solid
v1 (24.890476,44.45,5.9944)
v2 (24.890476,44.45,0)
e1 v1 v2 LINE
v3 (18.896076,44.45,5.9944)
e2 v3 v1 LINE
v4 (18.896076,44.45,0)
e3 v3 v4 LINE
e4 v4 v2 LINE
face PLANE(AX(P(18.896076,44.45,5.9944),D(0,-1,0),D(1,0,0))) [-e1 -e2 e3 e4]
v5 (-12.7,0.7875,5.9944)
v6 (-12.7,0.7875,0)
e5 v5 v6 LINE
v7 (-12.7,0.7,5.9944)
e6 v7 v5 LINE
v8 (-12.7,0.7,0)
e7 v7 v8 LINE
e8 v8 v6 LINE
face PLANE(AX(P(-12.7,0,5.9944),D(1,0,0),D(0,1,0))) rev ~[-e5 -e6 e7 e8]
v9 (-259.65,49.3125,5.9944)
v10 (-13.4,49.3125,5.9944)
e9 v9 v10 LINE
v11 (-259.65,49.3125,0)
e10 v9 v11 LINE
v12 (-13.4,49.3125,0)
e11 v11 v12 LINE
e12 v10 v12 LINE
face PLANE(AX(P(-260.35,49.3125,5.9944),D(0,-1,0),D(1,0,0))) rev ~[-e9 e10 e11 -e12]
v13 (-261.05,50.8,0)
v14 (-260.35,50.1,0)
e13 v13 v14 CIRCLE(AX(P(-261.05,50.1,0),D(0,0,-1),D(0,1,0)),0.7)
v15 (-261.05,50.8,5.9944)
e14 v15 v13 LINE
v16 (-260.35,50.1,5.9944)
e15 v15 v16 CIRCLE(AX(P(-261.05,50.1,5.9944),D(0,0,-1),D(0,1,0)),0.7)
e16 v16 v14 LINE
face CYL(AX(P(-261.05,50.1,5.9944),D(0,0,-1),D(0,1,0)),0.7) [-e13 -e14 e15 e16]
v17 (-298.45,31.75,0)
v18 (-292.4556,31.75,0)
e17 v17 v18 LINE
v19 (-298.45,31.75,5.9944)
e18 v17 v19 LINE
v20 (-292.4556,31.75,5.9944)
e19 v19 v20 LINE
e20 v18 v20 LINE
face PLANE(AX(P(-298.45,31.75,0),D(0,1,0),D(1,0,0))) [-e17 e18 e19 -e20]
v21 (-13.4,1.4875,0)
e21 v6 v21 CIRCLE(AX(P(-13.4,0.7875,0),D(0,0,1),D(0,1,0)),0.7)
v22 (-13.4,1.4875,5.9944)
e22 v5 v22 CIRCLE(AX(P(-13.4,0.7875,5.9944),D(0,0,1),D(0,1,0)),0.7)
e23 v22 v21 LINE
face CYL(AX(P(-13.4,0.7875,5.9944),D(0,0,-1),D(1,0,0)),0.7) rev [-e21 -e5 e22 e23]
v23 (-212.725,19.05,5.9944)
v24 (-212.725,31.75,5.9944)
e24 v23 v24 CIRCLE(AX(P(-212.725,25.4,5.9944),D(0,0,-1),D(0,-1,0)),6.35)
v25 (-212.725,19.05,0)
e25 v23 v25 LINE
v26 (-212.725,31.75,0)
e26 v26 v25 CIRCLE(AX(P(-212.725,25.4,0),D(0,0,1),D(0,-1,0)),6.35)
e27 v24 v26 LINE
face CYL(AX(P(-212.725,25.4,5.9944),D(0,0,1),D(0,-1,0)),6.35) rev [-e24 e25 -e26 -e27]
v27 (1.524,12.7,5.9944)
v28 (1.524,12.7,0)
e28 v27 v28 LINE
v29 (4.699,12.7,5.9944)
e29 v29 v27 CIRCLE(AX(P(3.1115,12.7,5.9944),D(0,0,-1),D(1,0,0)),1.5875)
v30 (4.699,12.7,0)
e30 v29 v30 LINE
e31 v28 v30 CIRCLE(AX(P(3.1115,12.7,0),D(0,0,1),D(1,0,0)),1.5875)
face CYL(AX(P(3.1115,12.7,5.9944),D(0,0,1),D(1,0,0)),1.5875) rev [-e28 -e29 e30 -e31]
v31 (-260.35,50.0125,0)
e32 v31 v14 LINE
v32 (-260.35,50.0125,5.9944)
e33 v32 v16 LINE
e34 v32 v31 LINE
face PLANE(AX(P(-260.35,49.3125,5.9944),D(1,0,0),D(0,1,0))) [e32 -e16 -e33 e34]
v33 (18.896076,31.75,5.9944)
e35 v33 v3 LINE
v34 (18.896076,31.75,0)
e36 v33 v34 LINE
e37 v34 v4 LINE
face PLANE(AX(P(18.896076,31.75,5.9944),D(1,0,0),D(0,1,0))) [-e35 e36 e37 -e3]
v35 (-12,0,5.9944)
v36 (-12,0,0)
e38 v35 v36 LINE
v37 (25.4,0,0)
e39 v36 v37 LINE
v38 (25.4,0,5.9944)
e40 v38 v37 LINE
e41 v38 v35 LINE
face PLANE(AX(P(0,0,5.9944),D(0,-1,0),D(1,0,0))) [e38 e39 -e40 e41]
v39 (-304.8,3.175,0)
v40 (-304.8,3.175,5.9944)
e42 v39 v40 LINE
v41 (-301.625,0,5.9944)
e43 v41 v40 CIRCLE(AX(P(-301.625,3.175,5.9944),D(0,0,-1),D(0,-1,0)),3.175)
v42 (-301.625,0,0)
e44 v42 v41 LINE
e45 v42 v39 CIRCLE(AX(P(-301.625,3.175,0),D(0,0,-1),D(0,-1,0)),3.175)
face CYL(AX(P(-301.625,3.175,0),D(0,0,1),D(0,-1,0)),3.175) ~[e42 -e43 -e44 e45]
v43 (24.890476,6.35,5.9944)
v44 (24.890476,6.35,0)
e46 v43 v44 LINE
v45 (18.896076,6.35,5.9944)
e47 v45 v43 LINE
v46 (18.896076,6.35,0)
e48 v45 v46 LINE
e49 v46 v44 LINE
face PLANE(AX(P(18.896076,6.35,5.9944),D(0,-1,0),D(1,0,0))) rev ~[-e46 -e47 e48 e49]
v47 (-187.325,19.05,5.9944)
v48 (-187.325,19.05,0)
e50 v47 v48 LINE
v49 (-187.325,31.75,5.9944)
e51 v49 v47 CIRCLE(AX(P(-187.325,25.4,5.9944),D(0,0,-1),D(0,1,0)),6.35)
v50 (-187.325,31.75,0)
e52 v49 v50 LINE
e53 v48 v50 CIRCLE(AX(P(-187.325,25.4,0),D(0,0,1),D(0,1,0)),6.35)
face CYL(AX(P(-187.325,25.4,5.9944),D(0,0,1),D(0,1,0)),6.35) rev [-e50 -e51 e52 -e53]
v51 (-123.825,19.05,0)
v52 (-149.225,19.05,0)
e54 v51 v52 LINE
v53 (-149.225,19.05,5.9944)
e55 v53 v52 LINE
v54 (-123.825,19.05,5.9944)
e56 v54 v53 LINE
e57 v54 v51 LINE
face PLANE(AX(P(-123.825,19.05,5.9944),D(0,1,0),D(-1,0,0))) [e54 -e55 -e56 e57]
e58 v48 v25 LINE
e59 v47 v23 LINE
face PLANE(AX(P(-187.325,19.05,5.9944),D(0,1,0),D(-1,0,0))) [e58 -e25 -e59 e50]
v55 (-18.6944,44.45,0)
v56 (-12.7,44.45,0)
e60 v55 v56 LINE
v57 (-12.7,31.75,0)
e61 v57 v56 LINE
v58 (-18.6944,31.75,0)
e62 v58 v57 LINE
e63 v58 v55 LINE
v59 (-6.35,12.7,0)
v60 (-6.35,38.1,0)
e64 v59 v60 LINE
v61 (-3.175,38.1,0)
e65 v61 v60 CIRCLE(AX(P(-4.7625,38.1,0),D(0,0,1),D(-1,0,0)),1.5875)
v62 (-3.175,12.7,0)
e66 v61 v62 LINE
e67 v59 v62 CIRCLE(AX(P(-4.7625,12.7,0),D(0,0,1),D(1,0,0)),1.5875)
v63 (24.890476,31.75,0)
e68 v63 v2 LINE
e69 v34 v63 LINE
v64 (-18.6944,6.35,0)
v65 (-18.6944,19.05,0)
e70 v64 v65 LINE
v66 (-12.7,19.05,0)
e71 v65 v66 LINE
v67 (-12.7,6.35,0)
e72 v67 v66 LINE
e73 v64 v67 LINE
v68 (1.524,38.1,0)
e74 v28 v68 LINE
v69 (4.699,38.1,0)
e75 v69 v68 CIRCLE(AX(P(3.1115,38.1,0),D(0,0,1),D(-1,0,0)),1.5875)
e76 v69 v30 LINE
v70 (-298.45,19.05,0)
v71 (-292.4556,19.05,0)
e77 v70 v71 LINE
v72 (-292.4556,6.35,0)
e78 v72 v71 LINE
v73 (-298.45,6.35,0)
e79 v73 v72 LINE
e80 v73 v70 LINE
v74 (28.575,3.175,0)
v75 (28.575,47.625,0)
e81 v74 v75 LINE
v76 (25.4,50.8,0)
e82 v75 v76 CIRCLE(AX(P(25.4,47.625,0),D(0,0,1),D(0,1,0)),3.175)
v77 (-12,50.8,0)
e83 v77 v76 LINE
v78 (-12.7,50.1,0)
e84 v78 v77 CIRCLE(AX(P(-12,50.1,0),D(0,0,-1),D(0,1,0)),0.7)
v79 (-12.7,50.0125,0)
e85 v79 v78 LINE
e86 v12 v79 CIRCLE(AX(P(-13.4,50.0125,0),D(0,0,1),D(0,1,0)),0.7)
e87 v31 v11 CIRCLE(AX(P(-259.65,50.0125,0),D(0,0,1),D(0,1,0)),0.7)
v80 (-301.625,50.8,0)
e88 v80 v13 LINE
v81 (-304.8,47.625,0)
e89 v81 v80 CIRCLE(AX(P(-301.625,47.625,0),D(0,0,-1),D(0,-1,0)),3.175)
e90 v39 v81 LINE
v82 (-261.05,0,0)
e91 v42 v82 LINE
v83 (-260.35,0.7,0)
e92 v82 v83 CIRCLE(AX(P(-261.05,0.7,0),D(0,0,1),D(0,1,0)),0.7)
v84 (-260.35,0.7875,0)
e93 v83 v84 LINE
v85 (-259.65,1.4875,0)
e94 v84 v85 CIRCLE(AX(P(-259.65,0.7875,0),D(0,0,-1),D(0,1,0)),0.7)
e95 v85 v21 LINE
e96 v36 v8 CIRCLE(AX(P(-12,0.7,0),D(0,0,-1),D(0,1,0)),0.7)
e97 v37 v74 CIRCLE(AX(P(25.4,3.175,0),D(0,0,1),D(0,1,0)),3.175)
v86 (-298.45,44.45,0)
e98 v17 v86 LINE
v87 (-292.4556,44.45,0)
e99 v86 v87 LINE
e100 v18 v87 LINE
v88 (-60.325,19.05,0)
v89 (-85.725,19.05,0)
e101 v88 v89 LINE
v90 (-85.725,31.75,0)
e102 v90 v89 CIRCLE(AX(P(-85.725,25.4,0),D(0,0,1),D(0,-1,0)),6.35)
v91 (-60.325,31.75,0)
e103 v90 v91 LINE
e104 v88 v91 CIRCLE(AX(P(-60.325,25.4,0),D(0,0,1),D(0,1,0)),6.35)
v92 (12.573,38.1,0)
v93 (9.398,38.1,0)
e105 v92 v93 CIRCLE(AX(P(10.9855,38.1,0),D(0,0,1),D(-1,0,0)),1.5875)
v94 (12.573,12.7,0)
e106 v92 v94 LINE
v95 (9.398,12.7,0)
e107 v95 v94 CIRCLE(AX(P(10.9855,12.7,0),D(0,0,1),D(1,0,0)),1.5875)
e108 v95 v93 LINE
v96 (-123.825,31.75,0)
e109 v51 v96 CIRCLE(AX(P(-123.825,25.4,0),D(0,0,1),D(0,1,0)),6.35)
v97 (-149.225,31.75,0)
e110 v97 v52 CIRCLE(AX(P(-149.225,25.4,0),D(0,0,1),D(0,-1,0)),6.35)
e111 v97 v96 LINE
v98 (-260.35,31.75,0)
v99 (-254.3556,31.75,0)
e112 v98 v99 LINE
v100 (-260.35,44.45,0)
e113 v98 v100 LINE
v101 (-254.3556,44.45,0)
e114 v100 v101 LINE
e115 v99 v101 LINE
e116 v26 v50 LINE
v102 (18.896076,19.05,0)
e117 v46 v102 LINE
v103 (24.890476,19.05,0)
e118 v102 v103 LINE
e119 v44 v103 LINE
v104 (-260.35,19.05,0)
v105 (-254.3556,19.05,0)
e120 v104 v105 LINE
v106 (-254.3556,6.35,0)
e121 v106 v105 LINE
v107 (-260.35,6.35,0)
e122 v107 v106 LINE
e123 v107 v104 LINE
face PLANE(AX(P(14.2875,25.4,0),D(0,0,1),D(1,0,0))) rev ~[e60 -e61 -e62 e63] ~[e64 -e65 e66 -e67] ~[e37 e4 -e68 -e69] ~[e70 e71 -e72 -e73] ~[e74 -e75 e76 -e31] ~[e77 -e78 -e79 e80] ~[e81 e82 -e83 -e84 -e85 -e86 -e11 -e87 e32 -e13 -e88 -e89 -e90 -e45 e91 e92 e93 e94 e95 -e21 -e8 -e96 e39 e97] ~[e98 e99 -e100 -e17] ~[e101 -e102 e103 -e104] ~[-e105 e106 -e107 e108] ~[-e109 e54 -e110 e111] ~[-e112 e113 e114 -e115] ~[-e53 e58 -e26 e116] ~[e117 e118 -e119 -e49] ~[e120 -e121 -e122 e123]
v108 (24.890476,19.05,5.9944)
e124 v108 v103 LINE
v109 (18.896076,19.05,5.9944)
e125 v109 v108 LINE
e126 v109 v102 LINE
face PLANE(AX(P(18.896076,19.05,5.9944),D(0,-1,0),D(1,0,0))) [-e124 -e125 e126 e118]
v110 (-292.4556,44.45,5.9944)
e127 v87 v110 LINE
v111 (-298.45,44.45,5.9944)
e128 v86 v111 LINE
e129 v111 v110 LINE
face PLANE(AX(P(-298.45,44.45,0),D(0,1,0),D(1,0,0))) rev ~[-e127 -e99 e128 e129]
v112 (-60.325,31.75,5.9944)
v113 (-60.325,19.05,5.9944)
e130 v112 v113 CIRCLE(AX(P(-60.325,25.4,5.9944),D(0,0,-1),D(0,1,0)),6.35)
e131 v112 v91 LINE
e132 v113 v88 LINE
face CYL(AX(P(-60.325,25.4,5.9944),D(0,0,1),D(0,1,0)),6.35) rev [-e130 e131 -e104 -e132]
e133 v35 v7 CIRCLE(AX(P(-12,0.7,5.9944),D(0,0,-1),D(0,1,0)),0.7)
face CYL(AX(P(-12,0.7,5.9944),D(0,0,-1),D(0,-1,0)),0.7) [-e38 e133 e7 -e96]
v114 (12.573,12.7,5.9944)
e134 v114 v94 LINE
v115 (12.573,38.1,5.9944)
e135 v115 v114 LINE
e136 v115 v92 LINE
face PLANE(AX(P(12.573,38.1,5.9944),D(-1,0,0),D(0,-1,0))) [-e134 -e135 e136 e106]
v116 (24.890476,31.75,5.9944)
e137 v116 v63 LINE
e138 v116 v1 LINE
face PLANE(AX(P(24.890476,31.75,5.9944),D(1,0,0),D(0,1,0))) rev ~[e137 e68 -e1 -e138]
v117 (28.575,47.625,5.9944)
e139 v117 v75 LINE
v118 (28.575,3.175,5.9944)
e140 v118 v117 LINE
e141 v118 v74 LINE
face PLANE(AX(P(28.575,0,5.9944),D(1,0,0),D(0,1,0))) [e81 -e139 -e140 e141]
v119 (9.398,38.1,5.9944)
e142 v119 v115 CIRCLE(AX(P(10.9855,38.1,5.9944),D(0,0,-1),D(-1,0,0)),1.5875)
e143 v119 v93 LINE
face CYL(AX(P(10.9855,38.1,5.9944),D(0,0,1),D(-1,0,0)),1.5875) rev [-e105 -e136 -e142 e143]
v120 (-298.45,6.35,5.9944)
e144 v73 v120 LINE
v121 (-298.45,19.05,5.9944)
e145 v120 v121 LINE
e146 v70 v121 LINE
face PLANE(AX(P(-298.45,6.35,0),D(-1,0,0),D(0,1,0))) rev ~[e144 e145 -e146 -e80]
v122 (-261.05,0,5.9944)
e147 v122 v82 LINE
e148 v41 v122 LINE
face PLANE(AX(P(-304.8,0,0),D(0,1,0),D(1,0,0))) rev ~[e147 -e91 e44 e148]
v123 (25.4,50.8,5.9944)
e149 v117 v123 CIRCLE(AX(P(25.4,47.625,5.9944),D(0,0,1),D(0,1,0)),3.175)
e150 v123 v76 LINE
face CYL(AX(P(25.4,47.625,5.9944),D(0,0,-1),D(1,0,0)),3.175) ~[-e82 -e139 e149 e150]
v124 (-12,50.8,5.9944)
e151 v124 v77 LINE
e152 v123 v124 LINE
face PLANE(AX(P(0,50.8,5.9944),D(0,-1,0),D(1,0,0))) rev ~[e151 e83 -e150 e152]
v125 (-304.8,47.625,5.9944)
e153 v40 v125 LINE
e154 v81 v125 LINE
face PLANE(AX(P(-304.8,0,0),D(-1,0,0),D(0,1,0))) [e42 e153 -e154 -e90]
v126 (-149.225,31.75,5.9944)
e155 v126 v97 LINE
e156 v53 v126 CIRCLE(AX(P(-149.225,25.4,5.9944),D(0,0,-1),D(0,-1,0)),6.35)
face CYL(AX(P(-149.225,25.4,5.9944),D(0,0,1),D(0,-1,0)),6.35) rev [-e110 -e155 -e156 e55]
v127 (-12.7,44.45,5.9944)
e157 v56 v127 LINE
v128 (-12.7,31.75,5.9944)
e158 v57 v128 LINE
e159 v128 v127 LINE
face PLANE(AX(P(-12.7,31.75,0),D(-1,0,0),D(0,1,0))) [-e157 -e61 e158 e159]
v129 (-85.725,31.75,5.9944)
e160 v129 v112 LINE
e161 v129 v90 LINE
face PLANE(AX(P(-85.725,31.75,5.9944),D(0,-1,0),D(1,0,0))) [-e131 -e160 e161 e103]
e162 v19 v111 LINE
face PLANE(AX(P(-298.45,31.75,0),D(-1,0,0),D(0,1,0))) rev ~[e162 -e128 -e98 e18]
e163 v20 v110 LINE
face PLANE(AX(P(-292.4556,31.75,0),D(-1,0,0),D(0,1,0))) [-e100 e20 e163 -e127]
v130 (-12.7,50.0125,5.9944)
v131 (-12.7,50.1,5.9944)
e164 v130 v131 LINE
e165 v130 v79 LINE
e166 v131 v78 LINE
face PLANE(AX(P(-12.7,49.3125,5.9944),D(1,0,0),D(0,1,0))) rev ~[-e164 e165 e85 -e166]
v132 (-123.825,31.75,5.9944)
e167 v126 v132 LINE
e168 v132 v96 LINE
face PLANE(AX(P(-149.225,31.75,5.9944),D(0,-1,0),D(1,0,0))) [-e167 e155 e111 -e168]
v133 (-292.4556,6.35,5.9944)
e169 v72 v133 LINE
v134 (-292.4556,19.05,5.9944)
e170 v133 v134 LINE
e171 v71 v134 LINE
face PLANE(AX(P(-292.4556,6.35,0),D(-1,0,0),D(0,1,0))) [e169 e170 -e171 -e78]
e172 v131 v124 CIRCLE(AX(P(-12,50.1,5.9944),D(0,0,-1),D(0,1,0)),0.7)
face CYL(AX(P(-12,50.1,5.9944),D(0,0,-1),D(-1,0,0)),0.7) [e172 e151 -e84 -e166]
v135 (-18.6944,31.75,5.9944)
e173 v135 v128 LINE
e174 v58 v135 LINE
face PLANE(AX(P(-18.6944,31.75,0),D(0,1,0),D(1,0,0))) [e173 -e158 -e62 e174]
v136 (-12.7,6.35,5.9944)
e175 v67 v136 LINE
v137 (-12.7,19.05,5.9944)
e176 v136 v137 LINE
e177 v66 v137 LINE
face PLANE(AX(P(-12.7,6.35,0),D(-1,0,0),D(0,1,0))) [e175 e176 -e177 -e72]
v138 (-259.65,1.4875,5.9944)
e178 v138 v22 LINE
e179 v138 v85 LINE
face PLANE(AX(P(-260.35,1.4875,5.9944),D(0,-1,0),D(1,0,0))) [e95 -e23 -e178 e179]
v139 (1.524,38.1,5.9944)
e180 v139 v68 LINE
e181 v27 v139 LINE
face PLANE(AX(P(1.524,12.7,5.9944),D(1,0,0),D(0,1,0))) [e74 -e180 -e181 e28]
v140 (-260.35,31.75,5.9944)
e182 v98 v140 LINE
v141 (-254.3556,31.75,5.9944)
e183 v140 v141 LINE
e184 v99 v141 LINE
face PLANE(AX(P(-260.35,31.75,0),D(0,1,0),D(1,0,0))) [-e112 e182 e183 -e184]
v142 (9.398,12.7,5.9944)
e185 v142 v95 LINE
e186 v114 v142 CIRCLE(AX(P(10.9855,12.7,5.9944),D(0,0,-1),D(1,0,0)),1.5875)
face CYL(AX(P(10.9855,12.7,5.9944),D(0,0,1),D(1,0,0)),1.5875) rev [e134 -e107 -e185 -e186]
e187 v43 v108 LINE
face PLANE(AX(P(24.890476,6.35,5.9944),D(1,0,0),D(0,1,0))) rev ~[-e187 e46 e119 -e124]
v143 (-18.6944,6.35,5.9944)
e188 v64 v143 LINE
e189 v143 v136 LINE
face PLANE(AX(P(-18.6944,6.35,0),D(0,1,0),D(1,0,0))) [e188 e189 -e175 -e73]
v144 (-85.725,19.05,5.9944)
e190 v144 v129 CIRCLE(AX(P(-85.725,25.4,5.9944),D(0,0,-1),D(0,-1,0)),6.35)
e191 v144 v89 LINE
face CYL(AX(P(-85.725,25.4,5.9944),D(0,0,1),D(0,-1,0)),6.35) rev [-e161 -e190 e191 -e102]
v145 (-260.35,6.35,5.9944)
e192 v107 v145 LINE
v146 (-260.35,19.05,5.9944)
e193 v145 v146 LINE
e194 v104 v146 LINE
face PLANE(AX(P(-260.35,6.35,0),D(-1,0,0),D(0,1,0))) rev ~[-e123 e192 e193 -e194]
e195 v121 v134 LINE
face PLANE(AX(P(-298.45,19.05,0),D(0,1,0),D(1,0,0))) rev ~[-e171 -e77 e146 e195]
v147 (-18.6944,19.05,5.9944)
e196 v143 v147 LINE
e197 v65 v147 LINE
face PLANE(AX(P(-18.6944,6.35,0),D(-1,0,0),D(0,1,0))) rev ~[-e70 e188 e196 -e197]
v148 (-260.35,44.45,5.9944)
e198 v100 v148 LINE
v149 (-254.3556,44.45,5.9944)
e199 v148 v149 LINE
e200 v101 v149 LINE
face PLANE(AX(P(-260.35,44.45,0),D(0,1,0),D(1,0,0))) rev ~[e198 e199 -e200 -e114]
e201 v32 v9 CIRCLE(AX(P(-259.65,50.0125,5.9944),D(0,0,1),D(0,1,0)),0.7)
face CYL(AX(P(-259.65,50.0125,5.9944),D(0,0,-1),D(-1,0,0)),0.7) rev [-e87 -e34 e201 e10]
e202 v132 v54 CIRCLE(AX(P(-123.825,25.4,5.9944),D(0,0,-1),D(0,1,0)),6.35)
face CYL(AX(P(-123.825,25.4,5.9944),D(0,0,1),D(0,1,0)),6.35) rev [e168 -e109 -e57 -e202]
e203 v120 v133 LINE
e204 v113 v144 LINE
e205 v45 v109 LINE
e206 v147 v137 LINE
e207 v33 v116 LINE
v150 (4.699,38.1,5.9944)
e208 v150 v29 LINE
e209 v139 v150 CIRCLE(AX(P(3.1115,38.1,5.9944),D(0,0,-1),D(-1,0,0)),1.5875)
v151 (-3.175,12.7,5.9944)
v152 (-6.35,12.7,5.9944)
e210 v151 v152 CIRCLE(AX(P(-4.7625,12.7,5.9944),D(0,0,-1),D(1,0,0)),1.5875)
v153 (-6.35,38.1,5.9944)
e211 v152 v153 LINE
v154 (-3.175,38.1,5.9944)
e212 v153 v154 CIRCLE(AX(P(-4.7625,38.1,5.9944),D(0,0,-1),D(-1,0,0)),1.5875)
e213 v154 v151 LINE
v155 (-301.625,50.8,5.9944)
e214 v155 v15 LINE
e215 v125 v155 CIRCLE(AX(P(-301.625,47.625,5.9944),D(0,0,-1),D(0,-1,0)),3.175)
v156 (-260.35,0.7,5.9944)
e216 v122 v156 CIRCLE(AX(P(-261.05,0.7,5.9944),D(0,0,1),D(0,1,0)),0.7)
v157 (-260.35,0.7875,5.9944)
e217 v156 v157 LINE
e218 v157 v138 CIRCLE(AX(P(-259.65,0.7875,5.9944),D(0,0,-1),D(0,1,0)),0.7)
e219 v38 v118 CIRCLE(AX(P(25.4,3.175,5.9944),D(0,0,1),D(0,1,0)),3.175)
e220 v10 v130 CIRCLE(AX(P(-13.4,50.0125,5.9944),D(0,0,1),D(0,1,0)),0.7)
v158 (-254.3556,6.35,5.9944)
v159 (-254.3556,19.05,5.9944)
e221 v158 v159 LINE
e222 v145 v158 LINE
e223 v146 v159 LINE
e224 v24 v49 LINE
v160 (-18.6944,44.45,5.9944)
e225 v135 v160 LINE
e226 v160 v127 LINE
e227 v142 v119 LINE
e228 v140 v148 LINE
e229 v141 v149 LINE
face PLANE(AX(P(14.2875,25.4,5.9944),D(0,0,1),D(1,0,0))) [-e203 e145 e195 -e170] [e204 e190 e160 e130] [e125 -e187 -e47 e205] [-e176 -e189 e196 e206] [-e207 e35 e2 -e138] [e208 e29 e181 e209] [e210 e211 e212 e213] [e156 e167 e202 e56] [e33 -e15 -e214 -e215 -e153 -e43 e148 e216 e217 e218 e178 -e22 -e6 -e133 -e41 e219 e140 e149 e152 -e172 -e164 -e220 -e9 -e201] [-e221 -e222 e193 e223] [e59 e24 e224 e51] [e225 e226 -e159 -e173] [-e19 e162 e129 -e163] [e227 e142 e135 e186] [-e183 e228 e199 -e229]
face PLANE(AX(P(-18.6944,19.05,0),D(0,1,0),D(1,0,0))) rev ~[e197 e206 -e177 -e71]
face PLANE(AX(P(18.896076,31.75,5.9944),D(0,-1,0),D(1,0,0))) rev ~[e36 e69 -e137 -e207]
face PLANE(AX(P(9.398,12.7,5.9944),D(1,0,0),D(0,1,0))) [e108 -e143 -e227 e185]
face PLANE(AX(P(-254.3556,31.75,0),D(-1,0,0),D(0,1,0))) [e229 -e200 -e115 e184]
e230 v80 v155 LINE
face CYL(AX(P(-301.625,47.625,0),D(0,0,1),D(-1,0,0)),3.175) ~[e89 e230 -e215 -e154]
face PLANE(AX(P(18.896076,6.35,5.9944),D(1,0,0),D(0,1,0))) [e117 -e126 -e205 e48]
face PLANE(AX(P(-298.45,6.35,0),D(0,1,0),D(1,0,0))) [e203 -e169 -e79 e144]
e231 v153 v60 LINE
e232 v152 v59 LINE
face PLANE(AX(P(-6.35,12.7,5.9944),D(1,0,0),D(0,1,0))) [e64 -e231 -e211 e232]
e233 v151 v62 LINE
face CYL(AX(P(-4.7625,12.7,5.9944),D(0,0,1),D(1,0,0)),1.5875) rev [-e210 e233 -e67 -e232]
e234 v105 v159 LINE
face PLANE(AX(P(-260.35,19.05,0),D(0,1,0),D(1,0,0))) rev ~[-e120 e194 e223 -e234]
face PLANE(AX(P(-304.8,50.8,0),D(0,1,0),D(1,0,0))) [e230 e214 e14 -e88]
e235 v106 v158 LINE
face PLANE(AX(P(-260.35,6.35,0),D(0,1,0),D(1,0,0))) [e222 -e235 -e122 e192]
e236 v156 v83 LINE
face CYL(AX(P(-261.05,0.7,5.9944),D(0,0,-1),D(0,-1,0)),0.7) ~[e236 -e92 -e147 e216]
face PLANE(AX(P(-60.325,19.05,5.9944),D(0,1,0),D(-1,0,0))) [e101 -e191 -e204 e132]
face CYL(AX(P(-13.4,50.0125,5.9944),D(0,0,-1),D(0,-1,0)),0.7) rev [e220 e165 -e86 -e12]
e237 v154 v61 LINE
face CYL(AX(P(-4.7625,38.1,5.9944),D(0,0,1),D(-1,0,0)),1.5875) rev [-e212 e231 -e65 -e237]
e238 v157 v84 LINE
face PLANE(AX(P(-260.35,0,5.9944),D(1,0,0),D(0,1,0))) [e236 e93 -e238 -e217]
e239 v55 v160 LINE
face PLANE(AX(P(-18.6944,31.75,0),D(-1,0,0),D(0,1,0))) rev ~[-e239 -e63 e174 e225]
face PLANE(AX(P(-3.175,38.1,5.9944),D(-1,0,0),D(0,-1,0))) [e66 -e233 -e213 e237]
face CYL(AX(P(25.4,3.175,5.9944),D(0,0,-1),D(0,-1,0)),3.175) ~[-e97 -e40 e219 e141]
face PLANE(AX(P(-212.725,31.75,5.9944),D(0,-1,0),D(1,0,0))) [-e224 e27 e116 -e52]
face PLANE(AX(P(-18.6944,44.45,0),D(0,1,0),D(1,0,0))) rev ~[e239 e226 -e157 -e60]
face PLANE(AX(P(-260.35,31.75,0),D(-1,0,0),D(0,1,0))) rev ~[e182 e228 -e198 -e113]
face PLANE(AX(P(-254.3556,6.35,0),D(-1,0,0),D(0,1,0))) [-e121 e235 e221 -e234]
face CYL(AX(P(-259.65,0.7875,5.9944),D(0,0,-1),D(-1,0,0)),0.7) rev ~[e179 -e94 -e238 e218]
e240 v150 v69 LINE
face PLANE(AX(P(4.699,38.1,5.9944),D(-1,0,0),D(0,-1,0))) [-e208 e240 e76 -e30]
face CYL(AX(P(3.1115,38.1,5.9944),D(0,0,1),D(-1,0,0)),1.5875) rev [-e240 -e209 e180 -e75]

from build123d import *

# Parameters (mm, degrees)
SKETCH1_W           = 304.8
SKETCH1_H           = 50.8
SKETCH1_W_2         = 5.9944
SKETCH1_H_2         = 12.7
BOSS_EXTRUDE1_DEPTH = 5.9944
SKETCH3_W           = 247.65
SKETCH3_H           = 1.4875
CUT_EXTRUDE3_DEPTH  = 6.9944
FILLET4_R           = 0.7
SKETCH4_W           = 28.575
SKETCH4_H           = 50.8
BOSS_EXTRUDE2_DEPTH = 5.9944
SKETCH5_W           = 5.9944
SKETCH5_H           = 12.7
CUT_EXTRUDE4_DEPTH  = 6.9944
FILLET5_R           = 3.175
CUT_EXTRUDE5_DEPTH  = 6.9944
CUT_EXTRUDE6_DEPTH  = 6.9944


with BuildPart() as part:
    # Sketch1 → Boss-Extrude1 (new body)
    with BuildSketch(Plane.XY):
        with Locations((-152.4, 25.4)):
            Rectangle(SKETCH1_W, SKETCH1_H)
        with Locations((-15.6972, 12.7)):
            Rectangle(SKETCH1_W_2, SKETCH1_H_2, mode=Mode.SUBTRACT)
        with Locations((-15.6972, 38.1)):
            Rectangle(SKETCH1_W_2, SKETCH1_H_2, mode=Mode.SUBTRACT)
        with Locations((-257.3528, 38.1)):
            Rectangle(SKETCH1_W_2, SKETCH1_H_2, mode=Mode.SUBTRACT)
        with Locations((-257.3528, 12.7)):
            Rectangle(SKETCH1_W_2, SKETCH1_H_2, mode=Mode.SUBTRACT)
        with Locations((-295.4528, 12.7)):
            Rectangle(SKETCH1_W_2, SKETCH1_H_2, mode=Mode.SUBTRACT)
        with Locations((-295.4528, 38.1)):
            Rectangle(SKETCH1_W_2, SKETCH1_H_2, mode=Mode.SUBTRACT)
    extrude(amount=BOSS_EXTRUDE1_DEPTH)

    # Sketch3 → Cut-Extrude3 (cut, through all)
    with BuildSketch(Plane.XY.offset(5.9944)):
        with Locations((-136.525, 50.05625)):
            Rectangle(SKETCH3_W, SKETCH3_H)
        with Locations((-136.525, 0.74375)):
            Rectangle(SKETCH3_W, SKETCH3_H)
    extrude(amount=-CUT_EXTRUDE3_DEPTH, mode=Mode.SUBTRACT)

    # Fillet4
    fillet4_edges = [part.edges().sort_by_distance(p)[0] for p in [
        (-260.35, 49.3125, 2.9972),
        (-260.35, 50.8, 2.9972),
        (-12.7, 50.8, 2.9972),
        (-12.7, 49.3125, 2.9972),
        (-12.7, 0, 2.9972),
        (-260.35, 0, 2.9972),
        (-260.35, 1.4875, 2.9972),
        (-12.7, 1.4875, 2.9972),
    ]]
    fillet(fillet4_edges, radius=FILLET4_R)

    # Sketch4 → Boss-Extrude2 (add)
    with BuildSketch(Plane.XY.offset(5.9944)):
        with Locations((14.2875, 25.4)):
            Rectangle(SKETCH4_W, SKETCH4_H)
    extrude(amount=-BOSS_EXTRUDE2_DEPTH)

    # Sketch5 → Cut-Extrude4 (cut, through all)
    with BuildSketch(Plane.XY.offset(5.9944)):
        with Locations((21.893276, 38.1)):
            Rectangle(SKETCH5_W, SKETCH5_H)
        with Locations((21.893276, 12.7)):
            Rectangle(SKETCH5_W, SKETCH5_H)
    extrude(amount=-CUT_EXTRUDE4_DEPTH, mode=Mode.SUBTRACT)

    # Fillet5
    fillet5_edges = [part.edges().sort_by_distance(p)[0] for p in [
        (28.575, 50.8, 2.9972),
        (28.575, 0, 2.9972),
        (-304.8, 0, 2.9972),
        (-304.8, 50.8, 2.9972),
    ]]
    fillet(fillet5_edges, radius=FILLET5_R)

    # Sketch6 → Cut-Extrude5 (cut, through all)
    with BuildSketch(Plane.XY.offset(5.9944)):
        with BuildLine():
            Line((-123.825, 19.05), (-149.225, 19.05))
            ThreePointArc((-149.225, 19.05), (-155.575, 25.4), (-149.225, 31.75))
            Line((-149.225, 31.75), (-123.825, 31.75))
            ThreePointArc((-123.825, 31.75), (-117.475, 25.4), (-123.825, 19.05))
        make_face()
        with BuildLine():
            Line((-60.325, 19.05), (-85.725, 19.05))
            ThreePointArc((-85.725, 19.05), (-92.075, 25.4), (-85.725, 31.75))
            Line((-85.725, 31.75), (-60.325, 31.75))
            ThreePointArc((-60.325, 31.75), (-53.975, 25.4), (-60.325, 19.05))
        make_face()
        with BuildLine():
            Line((-187.325, 19.05), (-212.725, 19.05))
            ThreePointArc((-212.725, 19.05), (-219.075, 25.4), (-212.725, 31.75))
            Line((-212.725, 31.75), (-187.325, 31.75))
            ThreePointArc((-187.325, 31.75), (-180.975, 25.4), (-187.325, 19.05))
        make_face()
    extrude(amount=-CUT_EXTRUDE5_DEPTH, mode=Mode.SUBTRACT)

    # Sketch7 → Cut-Extrude6 (cut, through all)
    with BuildSketch(Plane.XY.offset(5.9944)):
        with BuildLine():
            Line((-6.35, 12.7), (-6.35, 38.1))
            ThreePointArc((-6.35, 38.1), (-4.7625, 39.6875), (-3.175, 38.1))
            Line((-3.175, 38.1), (-3.175, 12.7))
            ThreePointArc((-3.175, 12.7), (-4.7625, 11.1125), (-6.35, 12.7))
        make_face()
        with BuildLine():
            Line((1.524, 12.7), (1.524, 38.1))
            ThreePointArc((1.524, 38.1), (3.1115, 39.6875), (4.699, 38.1))
            Line((4.699, 38.1), (4.699, 12.7))
            ThreePointArc((4.699, 12.7), (3.1115, 11.1125), (1.524, 12.7))
        make_face()
        with BuildLine():
            Line((9.398, 12.7), (9.398, 38.1))
            ThreePointArc((9.398, 38.1), (10.9855, 39.6875), (12.573, 38.1))
            Line((12.573, 38.1), (12.573, 12.7))
            ThreePointArc((12.573, 12.7), (10.9855, 11.1125), (9.398, 12.7))
        make_face()
    extrude(amount=-CUT_EXTRUDE6_DEPTH, mode=Mode.SUBTRACT)


solid = part.part
